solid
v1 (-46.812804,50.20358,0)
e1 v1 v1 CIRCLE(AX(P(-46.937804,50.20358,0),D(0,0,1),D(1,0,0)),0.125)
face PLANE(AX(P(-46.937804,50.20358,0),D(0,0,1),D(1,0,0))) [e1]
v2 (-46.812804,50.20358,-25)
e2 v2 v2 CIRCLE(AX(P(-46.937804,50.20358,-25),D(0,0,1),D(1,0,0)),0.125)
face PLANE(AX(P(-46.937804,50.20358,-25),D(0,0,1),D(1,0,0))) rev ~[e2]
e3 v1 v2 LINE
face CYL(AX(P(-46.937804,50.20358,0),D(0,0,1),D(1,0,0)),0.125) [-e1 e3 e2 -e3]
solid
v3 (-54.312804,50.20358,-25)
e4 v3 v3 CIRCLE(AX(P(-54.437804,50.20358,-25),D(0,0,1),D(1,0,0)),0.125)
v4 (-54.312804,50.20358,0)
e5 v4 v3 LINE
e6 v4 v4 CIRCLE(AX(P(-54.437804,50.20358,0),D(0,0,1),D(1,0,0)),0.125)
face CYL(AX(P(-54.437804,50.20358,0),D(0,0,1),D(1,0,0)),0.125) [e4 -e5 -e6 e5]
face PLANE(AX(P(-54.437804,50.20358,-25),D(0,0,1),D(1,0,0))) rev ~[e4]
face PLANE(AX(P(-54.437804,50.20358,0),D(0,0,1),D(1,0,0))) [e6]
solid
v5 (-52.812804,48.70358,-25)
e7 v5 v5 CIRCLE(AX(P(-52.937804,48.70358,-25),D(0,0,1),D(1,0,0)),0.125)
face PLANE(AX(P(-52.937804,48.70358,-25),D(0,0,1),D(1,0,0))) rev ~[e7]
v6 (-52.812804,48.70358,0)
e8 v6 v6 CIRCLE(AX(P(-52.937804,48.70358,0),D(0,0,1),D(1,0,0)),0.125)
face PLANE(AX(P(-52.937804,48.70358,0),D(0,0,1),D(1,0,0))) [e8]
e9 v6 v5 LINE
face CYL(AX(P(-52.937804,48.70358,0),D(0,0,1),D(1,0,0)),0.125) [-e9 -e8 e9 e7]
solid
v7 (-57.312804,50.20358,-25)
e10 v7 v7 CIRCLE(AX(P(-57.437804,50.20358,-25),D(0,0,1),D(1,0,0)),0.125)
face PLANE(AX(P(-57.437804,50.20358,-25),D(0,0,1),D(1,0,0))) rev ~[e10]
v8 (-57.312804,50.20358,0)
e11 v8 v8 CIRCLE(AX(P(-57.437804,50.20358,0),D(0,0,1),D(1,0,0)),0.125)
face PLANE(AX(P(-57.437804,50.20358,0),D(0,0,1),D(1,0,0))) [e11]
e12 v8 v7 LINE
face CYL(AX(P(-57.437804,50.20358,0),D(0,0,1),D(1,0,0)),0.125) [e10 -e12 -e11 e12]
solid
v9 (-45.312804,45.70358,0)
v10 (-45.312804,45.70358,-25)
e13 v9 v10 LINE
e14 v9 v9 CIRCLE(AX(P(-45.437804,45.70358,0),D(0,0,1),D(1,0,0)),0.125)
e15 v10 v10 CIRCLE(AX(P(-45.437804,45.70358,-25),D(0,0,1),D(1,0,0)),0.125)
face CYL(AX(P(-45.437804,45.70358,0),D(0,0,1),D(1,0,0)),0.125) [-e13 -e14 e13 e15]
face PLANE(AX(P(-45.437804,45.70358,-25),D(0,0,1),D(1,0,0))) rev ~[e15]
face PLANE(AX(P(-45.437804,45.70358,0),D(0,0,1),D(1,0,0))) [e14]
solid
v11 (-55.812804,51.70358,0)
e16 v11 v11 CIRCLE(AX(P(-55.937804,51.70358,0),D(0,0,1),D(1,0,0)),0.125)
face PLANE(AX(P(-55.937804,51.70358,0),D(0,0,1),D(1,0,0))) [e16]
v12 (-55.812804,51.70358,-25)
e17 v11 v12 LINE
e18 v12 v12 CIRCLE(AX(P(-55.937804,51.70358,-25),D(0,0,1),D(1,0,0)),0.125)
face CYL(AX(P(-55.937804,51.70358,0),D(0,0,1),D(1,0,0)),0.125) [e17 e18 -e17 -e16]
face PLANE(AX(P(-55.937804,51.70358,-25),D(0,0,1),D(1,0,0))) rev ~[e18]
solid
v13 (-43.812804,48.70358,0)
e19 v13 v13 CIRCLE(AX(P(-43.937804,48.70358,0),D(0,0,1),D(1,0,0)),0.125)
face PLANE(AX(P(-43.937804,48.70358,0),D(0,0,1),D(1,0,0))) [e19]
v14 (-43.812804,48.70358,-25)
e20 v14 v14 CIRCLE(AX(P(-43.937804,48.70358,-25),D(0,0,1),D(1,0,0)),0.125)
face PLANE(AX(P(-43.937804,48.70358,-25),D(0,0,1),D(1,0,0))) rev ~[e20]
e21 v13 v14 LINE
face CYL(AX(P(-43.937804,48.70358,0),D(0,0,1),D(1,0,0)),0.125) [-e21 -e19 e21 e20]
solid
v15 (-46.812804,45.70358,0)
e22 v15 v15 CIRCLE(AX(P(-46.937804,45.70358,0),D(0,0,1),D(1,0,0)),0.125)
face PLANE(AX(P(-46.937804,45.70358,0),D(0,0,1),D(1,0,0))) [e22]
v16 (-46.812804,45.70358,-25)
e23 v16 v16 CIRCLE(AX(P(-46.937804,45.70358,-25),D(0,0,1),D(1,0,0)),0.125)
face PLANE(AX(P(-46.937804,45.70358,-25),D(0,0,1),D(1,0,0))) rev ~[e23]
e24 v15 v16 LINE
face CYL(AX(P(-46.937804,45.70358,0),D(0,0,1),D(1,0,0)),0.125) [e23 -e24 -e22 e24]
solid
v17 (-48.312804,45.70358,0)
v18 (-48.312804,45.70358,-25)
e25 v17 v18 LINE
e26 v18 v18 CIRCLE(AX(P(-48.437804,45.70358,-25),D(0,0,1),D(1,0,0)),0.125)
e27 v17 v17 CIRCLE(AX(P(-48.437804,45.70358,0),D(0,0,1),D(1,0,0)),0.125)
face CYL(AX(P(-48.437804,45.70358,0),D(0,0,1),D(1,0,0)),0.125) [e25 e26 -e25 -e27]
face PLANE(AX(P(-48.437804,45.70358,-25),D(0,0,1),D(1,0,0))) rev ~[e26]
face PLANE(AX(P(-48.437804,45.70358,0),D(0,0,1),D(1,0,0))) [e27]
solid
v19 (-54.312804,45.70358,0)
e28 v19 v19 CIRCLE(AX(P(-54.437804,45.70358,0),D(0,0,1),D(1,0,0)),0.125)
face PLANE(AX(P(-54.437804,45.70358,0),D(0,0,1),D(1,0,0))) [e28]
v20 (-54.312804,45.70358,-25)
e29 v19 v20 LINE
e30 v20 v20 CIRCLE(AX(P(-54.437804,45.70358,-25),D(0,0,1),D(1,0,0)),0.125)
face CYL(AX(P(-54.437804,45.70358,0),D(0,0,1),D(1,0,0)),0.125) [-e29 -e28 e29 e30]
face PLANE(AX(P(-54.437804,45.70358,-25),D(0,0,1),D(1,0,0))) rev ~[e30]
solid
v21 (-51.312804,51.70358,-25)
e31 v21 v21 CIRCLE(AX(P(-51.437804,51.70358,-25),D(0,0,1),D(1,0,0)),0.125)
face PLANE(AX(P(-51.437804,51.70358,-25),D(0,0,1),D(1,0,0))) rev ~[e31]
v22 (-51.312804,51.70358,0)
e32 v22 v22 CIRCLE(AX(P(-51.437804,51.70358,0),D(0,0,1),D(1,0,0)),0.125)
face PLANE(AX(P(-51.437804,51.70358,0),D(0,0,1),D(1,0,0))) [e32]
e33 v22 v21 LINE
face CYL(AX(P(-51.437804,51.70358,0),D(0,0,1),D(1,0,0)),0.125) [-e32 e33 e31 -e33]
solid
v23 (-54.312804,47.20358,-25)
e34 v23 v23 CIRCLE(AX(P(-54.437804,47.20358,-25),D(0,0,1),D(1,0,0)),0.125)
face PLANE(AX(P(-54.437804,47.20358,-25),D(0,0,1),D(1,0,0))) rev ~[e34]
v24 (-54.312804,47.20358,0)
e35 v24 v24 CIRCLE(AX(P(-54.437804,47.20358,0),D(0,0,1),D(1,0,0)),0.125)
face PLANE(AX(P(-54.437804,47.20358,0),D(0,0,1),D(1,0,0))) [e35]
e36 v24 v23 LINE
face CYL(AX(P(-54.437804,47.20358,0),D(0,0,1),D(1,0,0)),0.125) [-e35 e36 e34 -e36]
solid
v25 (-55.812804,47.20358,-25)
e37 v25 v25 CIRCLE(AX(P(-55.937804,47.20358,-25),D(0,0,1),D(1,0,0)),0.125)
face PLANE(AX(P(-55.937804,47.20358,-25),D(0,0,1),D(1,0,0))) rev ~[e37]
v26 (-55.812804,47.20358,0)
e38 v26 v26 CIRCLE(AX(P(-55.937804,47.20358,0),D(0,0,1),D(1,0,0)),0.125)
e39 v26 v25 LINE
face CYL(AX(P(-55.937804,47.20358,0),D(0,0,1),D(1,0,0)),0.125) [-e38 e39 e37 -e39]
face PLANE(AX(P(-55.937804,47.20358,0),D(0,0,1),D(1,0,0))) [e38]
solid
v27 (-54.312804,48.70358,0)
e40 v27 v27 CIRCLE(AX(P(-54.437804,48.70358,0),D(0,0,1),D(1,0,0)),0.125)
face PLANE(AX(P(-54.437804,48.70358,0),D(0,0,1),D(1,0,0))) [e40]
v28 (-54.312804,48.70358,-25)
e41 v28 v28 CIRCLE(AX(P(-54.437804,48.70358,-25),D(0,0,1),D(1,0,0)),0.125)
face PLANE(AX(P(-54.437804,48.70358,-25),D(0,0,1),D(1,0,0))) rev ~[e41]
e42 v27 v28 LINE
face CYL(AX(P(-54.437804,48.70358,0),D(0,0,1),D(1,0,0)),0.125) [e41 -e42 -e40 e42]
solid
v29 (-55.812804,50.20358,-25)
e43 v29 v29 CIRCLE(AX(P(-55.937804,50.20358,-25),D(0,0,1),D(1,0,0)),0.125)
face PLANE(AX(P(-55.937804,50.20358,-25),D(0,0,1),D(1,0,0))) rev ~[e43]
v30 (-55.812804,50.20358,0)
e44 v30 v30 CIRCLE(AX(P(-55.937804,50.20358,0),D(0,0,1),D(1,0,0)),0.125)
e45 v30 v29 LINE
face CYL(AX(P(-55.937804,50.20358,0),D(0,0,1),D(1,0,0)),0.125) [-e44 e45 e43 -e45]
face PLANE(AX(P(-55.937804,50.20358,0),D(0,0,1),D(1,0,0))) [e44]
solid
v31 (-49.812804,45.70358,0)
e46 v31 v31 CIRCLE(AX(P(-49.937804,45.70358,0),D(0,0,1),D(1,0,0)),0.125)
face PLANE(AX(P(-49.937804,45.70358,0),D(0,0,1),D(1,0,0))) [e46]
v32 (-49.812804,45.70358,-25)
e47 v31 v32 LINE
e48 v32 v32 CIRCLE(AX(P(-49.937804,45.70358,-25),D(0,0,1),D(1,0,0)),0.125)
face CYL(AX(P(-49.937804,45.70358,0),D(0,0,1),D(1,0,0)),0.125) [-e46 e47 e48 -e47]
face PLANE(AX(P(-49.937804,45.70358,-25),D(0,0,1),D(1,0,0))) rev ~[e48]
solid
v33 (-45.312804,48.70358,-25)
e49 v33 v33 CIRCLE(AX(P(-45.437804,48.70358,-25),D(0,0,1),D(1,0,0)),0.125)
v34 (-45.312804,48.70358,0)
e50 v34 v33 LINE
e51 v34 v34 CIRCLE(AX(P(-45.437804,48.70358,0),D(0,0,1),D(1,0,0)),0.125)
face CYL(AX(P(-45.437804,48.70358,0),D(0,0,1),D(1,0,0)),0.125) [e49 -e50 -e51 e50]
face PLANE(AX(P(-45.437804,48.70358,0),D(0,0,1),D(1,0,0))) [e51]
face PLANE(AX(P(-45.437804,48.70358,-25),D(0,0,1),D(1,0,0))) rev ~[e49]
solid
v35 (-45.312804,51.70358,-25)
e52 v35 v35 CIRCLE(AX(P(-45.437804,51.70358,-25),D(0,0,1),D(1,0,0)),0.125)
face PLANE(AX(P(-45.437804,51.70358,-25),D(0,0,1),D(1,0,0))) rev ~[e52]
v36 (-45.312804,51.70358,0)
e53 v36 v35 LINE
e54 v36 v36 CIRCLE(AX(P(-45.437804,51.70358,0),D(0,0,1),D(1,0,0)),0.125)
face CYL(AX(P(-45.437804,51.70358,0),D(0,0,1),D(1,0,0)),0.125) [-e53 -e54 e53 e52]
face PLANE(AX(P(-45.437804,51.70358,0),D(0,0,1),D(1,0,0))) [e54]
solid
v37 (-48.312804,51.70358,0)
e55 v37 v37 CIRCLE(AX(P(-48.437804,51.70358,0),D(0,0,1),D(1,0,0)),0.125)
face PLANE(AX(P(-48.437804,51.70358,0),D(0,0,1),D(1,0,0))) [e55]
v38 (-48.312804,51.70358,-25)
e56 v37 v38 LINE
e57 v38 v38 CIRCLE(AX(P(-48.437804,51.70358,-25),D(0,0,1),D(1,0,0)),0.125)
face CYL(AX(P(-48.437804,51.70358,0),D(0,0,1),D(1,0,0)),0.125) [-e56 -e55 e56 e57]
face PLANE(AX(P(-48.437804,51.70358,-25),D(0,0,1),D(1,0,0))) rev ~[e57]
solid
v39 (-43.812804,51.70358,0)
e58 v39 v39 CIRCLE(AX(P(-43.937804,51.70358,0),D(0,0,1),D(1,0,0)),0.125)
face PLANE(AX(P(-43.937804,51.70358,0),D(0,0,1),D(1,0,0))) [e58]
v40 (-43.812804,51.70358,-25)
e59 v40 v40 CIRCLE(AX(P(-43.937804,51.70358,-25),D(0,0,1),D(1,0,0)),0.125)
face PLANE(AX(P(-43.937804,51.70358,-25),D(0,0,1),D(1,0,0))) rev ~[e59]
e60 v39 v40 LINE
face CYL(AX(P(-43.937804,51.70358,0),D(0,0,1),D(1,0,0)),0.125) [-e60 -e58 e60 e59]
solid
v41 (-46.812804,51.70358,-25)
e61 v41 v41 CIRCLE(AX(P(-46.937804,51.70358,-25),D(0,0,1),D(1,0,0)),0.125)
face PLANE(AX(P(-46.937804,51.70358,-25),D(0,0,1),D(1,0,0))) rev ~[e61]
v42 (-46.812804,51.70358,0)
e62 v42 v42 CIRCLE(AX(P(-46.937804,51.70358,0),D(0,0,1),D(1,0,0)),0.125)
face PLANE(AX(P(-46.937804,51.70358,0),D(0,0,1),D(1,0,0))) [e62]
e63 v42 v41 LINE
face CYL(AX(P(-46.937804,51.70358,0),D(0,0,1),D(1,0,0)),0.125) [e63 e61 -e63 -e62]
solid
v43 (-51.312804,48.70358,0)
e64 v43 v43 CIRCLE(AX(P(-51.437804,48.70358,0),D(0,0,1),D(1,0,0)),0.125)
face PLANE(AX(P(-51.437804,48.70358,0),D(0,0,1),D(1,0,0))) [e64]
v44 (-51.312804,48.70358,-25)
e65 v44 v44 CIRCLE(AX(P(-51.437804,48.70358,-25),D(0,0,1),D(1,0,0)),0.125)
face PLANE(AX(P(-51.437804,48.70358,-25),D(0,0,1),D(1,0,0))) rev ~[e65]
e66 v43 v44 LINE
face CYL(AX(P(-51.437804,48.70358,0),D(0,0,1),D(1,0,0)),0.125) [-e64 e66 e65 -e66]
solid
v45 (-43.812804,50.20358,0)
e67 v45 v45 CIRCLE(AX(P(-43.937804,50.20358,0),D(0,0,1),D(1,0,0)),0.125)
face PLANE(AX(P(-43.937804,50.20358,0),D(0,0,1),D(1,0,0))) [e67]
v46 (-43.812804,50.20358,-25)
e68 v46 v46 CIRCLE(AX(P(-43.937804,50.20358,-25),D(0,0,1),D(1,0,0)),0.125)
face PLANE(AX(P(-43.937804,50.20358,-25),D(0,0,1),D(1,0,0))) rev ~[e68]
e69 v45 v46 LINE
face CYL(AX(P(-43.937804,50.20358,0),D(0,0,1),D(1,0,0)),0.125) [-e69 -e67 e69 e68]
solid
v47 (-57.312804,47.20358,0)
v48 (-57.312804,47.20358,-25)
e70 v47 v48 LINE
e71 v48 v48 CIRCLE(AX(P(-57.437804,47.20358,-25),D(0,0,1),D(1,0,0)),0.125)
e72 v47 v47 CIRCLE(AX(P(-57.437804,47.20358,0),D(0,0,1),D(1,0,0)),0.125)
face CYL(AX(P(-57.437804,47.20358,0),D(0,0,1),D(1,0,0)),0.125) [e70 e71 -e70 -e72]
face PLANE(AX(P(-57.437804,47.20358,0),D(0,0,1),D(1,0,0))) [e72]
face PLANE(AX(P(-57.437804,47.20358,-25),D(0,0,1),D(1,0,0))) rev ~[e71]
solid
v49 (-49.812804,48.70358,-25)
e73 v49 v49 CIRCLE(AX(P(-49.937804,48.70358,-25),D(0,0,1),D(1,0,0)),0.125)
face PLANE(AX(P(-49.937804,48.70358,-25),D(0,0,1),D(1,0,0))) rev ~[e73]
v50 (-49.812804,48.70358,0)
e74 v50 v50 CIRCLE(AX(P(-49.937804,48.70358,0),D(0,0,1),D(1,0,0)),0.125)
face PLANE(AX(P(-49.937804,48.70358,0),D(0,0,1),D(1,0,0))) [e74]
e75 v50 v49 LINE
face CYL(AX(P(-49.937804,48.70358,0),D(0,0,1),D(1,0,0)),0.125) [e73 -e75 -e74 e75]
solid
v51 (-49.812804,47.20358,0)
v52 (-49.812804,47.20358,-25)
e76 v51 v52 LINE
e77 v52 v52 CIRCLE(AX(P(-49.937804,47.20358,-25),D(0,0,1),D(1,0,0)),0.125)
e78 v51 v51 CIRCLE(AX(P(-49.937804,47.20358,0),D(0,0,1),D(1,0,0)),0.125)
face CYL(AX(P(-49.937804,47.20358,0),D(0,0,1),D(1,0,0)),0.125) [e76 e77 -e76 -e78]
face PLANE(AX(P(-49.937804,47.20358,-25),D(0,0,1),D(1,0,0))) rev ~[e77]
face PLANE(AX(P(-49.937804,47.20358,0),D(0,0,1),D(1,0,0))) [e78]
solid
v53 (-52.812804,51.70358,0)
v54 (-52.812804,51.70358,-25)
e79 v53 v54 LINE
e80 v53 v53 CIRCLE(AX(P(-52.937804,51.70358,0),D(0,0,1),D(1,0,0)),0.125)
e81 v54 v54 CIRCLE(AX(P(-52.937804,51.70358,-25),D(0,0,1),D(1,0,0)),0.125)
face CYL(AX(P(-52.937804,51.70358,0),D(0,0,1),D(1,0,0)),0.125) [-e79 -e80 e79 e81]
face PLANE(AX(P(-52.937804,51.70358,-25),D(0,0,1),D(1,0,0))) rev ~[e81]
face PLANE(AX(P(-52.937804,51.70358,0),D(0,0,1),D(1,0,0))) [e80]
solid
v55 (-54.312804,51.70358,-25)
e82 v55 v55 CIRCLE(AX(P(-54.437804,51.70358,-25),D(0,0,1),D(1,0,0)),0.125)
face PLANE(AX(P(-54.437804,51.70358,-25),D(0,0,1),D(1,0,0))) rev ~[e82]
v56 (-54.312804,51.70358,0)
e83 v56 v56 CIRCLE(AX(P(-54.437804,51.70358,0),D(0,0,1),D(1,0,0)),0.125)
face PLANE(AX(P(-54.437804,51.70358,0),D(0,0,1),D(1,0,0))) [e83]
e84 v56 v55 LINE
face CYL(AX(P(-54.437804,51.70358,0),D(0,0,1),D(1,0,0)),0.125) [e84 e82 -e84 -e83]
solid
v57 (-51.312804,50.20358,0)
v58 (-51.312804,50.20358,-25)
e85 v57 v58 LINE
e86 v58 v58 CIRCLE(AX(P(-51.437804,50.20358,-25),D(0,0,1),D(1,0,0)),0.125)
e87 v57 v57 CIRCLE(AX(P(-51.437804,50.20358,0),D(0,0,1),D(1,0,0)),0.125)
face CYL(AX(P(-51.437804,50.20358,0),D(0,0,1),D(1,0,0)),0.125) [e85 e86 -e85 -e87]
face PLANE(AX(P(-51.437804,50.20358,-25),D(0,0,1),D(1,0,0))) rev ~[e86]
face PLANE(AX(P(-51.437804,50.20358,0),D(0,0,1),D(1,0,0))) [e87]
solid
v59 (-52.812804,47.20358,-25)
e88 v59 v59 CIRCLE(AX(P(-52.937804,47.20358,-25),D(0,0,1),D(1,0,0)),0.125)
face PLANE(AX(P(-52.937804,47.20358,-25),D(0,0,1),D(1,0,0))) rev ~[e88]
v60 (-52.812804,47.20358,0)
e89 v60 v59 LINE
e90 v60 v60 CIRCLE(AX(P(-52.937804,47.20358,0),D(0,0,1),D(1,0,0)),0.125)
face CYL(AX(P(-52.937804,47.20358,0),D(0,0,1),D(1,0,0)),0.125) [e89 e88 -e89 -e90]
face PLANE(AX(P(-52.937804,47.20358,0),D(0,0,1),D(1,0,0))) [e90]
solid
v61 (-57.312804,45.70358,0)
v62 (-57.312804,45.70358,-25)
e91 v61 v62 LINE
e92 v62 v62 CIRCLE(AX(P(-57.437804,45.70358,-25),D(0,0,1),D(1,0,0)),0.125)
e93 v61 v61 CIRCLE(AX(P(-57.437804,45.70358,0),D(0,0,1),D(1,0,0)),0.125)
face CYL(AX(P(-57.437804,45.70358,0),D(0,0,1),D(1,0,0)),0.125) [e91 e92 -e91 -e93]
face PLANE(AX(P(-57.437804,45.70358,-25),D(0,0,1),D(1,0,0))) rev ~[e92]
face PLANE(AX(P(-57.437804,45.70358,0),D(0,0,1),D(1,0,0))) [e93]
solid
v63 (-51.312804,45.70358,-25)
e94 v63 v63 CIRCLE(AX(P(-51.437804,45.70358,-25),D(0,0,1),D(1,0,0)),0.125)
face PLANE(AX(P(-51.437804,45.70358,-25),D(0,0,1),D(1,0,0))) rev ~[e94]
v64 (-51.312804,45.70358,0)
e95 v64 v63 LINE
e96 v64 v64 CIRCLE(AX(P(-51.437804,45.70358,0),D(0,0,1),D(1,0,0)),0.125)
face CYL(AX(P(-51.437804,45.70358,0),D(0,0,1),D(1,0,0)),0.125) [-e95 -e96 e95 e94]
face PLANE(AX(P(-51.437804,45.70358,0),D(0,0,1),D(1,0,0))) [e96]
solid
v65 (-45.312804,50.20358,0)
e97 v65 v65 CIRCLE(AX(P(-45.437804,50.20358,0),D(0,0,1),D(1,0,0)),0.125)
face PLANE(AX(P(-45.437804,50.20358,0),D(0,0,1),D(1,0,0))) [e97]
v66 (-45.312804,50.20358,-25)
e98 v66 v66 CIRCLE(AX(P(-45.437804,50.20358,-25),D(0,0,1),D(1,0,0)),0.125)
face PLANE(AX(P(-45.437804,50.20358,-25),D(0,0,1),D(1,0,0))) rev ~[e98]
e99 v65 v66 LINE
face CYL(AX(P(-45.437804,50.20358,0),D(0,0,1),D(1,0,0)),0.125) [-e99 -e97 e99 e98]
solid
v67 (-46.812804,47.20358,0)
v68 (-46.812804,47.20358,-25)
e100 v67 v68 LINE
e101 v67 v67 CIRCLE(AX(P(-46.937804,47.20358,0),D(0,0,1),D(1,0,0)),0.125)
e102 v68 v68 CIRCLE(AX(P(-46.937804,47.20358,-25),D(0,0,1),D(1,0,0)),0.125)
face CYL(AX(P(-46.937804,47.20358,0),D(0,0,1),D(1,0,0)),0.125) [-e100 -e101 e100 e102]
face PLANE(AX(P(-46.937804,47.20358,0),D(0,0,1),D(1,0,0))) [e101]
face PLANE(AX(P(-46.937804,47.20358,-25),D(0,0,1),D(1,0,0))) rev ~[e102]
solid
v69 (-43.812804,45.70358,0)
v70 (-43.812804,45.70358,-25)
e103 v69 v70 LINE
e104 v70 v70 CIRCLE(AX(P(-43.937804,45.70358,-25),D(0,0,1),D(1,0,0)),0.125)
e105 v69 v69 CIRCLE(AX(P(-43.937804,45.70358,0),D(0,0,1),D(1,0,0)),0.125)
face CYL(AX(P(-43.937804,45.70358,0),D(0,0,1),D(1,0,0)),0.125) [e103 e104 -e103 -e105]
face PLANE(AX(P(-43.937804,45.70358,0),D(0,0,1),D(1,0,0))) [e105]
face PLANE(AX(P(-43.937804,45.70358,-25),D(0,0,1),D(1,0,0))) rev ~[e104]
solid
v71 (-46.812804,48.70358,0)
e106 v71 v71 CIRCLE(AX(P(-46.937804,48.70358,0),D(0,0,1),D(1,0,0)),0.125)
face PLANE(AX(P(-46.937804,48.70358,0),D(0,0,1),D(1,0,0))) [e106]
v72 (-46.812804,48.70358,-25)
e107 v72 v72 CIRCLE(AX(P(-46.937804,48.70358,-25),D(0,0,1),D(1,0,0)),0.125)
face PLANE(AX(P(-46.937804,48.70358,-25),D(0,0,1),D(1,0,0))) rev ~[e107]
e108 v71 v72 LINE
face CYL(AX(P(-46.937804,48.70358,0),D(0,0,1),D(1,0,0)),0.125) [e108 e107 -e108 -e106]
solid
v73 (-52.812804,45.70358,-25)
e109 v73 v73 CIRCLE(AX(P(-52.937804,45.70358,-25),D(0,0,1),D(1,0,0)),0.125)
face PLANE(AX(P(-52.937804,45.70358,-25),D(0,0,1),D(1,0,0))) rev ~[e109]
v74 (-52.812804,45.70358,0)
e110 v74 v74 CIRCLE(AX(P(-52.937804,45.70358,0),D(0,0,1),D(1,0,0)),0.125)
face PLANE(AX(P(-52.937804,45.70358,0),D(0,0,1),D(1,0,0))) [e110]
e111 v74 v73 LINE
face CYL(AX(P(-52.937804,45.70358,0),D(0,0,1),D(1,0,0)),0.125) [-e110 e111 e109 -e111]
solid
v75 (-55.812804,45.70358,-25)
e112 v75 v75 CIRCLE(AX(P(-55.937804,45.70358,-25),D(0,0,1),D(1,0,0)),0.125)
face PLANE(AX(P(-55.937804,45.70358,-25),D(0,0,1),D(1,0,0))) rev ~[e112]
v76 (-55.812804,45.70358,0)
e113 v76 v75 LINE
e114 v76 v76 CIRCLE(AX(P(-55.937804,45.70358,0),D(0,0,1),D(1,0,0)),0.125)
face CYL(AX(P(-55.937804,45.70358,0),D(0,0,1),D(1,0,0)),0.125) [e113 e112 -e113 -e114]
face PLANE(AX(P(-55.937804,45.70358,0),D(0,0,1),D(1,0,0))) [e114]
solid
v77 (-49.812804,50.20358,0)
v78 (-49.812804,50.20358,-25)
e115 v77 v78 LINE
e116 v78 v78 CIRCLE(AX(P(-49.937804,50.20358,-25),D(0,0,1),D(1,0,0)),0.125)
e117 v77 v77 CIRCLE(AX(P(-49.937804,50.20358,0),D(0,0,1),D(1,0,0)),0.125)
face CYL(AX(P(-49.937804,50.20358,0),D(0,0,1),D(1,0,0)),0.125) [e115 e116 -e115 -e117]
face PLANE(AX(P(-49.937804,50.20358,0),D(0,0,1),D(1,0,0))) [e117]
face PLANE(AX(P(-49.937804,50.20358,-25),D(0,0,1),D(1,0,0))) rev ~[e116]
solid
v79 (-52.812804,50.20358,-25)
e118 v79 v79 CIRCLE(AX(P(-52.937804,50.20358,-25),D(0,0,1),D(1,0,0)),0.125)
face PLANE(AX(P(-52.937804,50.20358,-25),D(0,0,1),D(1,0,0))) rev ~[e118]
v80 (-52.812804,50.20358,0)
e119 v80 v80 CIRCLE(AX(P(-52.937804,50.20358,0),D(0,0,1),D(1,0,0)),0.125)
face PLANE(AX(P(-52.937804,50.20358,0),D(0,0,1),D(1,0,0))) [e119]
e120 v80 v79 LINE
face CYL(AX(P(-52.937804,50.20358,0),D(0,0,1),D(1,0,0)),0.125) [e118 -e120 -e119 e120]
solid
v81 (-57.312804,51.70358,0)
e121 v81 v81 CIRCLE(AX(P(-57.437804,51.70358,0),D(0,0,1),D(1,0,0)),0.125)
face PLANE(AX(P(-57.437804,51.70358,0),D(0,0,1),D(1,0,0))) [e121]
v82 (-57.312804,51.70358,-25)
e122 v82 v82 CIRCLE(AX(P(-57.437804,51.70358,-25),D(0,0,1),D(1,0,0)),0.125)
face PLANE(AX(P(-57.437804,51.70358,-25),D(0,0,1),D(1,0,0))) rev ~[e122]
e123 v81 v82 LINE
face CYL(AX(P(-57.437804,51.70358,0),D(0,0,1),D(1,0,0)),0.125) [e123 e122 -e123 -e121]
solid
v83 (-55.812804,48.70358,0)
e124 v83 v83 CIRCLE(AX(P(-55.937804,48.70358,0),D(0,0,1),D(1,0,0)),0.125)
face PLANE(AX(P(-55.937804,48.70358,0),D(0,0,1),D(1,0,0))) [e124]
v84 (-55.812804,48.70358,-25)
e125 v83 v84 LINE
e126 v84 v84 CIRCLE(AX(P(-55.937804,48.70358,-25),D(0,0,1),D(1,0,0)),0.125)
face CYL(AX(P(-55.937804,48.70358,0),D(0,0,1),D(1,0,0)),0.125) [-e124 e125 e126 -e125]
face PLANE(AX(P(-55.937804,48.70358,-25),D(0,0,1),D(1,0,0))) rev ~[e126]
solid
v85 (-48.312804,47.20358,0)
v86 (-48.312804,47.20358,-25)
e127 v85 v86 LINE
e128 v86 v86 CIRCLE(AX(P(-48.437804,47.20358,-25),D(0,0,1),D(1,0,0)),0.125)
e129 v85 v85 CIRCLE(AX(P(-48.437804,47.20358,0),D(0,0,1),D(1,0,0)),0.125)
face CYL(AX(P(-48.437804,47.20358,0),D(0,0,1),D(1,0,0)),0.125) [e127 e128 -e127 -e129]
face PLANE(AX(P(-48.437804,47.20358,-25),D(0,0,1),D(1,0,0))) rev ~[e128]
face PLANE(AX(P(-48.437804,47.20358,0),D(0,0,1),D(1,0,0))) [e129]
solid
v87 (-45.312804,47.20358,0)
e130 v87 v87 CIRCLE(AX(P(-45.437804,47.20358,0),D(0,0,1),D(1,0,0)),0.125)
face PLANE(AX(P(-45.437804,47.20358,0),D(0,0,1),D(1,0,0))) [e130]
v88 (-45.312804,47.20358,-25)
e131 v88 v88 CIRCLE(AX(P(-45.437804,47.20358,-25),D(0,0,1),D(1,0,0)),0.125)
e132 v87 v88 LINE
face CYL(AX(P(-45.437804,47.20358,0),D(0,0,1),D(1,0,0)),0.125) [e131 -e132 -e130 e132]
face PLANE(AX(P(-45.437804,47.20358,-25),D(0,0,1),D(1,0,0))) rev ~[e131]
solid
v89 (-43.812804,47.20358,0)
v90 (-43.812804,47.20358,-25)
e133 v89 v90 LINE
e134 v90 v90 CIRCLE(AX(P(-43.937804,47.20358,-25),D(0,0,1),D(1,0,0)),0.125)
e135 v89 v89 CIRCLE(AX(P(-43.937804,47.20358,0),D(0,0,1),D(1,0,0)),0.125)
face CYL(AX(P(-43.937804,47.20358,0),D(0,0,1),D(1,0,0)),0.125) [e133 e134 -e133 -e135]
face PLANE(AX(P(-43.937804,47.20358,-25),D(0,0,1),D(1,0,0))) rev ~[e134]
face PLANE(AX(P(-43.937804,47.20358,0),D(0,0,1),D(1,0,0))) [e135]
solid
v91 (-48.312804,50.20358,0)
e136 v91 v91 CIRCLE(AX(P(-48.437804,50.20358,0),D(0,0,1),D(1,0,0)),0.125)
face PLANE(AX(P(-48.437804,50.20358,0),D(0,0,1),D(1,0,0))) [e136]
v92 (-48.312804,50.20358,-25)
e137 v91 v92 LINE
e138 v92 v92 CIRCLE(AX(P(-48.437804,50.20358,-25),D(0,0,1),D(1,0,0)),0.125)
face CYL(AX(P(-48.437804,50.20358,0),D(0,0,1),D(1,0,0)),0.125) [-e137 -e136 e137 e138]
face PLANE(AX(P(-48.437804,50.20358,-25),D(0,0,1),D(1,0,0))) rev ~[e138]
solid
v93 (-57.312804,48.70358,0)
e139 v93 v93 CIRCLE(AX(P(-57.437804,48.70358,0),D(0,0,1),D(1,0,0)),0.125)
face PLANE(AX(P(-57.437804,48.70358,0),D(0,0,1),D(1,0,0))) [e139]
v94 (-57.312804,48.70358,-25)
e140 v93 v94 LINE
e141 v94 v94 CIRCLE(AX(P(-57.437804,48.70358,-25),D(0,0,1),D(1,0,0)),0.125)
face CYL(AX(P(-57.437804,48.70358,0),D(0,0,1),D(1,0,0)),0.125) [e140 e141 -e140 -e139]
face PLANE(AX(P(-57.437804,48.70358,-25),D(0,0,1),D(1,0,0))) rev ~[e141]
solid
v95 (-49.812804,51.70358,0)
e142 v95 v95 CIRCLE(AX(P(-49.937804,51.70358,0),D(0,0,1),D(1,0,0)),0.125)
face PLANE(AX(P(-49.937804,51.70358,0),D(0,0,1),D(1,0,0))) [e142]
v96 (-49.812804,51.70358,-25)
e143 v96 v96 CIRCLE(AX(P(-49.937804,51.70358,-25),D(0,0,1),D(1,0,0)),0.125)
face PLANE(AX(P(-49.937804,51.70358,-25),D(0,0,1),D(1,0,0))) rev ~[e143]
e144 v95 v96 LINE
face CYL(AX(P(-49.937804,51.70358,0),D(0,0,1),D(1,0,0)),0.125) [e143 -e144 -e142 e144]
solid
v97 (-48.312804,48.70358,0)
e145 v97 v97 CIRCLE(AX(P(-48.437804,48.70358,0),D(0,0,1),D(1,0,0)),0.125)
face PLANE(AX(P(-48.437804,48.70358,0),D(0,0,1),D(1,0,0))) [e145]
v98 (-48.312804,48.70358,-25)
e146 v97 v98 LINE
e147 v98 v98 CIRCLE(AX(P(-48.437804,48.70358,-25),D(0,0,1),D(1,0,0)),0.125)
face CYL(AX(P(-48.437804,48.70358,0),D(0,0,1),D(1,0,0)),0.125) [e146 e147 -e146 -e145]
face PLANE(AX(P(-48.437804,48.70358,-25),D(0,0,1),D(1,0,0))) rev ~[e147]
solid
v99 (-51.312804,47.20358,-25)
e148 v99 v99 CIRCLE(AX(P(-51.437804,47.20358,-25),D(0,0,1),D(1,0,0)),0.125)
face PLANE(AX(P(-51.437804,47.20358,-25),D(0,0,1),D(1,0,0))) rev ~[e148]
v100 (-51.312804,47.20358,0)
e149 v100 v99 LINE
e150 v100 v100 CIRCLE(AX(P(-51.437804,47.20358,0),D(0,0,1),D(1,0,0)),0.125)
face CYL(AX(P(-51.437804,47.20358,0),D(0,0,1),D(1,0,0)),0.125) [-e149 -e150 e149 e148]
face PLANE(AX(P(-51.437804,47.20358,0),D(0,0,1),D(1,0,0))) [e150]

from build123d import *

# Parameters (mm, degrees)
F0_R     = 0.125
F1_DEPTH = 25


with BuildPart() as f1:
    # F0 (on Top) → F1 (new body)
    with BuildSketch(Plane.XY):
        with Locations((-57.437804, 51.70358)):
            Circle(F0_R)
        with Locations((-57.437804, 50.20358)):
            Circle(F0_R)
        with Locations((-57.437804, 48.70358)):
            Circle(F0_R)
        with Locations((-57.437804, 47.20358)):
            Circle(F0_R)
        with Locations((-57.437804, 45.70358)):
            Circle(F0_R)
        with Locations((-55.937804, 51.70358)):
            Circle(F0_R)
        with Locations((-55.937804, 50.20358)):
            Circle(F0_R)
        with Locations((-55.937804, 48.70358)):
            Circle(F0_R)
        with Locations((-55.937804, 47.20358)):
            Circle(F0_R)
        with Locations((-55.937804, 45.70358)):
            Circle(F0_R)
        with Locations((-54.437804, 51.70358)):
            Circle(F0_R)
        with Locations((-54.437804, 50.20358)):
            Circle(F0_R)
        with Locations((-54.437804, 48.70358)):
            Circle(F0_R)
        with Locations((-54.437804, 47.20358)):
            Circle(F0_R)
        with Locations((-54.437804, 45.70358)):
            Circle(F0_R)
        with Locations((-52.937804, 51.70358)):
            Circle(F0_R)
        with Locations((-52.937804, 50.20358)):
            Circle(F0_R)
        with Locations((-52.937804, 48.70358)):
            Circle(F0_R)
        with Locations((-52.937804, 47.20358)):
            Circle(F0_R)
        with Locations((-52.937804, 45.70358)):
            Circle(F0_R)
        with Locations((-51.437804, 51.70358)):
            Circle(F0_R)
        with Locations((-51.437804, 50.20358)):
            Circle(F0_R)
        with Locations((-51.437804, 48.70358)):
            Circle(F0_R)
        with Locations((-51.437804, 47.20358)):
            Circle(F0_R)
        with Locations((-51.437804, 45.70358)):
            Circle(F0_R)
        with Locations((-49.937804, 51.70358)):
            Circle(F0_R)
        with Locations((-49.937804, 50.20358)):
            Circle(F0_R)
        with Locations((-49.937804, 48.70358)):
            Circle(F0_R)
        with Locations((-49.937804, 47.20358)):
            Circle(F0_R)
        with Locations((-49.937804, 45.70358)):
            Circle(F0_R)
        with Locations((-48.437804, 51.70358)):
            Circle(F0_R)
        with Locations((-48.437804, 50.20358)):
            Circle(F0_R)
        with Locations((-48.437804, 48.70358)):
            Circle(F0_R)
        with Locations((-48.437804, 47.20358)):
            Circle(F0_R)
        with Locations((-48.437804, 45.70358)):
            Circle(F0_R)
        with Locations((-46.937804, 51.70358)):
            Circle(F0_R)
        with Locations((-46.937804, 50.20358)):
            Circle(F0_R)
        with Locations((-46.937804, 48.70358)):
            Circle(F0_R)
        with Locations((-46.937804, 47.20358)):
            Circle(F0_R)
        with Locations((-46.937804, 45.70358)):
            Circle(F0_R)
        with Locations((-45.437804, 51.70358)):
            Circle(F0_R)
        with Locations((-45.437804, 50.20358)):
            Circle(F0_R)
        with Locations((-45.437804, 48.70358)):
            Circle(F0_R)
        with Locations((-45.437804, 47.20358)):
            Circle(F0_R)
        with Locations((-45.437804, 45.70358)):
            Circle(F0_R)
        with Locations((-43.937804, 51.70358)):
            Circle(F0_R)
        with Locations((-43.937804, 50.20358)):
            Circle(F0_R)
        with Locations((-43.937804, 48.70358)):
            Circle(F0_R)
        with Locations((-43.937804, 47.20358)):
            Circle(F0_R)
        with Locations((-43.937804, 45.70358)):
            Circle(F0_R)
    extrude(amount=-F1_DEPTH)


solid = f1.part
